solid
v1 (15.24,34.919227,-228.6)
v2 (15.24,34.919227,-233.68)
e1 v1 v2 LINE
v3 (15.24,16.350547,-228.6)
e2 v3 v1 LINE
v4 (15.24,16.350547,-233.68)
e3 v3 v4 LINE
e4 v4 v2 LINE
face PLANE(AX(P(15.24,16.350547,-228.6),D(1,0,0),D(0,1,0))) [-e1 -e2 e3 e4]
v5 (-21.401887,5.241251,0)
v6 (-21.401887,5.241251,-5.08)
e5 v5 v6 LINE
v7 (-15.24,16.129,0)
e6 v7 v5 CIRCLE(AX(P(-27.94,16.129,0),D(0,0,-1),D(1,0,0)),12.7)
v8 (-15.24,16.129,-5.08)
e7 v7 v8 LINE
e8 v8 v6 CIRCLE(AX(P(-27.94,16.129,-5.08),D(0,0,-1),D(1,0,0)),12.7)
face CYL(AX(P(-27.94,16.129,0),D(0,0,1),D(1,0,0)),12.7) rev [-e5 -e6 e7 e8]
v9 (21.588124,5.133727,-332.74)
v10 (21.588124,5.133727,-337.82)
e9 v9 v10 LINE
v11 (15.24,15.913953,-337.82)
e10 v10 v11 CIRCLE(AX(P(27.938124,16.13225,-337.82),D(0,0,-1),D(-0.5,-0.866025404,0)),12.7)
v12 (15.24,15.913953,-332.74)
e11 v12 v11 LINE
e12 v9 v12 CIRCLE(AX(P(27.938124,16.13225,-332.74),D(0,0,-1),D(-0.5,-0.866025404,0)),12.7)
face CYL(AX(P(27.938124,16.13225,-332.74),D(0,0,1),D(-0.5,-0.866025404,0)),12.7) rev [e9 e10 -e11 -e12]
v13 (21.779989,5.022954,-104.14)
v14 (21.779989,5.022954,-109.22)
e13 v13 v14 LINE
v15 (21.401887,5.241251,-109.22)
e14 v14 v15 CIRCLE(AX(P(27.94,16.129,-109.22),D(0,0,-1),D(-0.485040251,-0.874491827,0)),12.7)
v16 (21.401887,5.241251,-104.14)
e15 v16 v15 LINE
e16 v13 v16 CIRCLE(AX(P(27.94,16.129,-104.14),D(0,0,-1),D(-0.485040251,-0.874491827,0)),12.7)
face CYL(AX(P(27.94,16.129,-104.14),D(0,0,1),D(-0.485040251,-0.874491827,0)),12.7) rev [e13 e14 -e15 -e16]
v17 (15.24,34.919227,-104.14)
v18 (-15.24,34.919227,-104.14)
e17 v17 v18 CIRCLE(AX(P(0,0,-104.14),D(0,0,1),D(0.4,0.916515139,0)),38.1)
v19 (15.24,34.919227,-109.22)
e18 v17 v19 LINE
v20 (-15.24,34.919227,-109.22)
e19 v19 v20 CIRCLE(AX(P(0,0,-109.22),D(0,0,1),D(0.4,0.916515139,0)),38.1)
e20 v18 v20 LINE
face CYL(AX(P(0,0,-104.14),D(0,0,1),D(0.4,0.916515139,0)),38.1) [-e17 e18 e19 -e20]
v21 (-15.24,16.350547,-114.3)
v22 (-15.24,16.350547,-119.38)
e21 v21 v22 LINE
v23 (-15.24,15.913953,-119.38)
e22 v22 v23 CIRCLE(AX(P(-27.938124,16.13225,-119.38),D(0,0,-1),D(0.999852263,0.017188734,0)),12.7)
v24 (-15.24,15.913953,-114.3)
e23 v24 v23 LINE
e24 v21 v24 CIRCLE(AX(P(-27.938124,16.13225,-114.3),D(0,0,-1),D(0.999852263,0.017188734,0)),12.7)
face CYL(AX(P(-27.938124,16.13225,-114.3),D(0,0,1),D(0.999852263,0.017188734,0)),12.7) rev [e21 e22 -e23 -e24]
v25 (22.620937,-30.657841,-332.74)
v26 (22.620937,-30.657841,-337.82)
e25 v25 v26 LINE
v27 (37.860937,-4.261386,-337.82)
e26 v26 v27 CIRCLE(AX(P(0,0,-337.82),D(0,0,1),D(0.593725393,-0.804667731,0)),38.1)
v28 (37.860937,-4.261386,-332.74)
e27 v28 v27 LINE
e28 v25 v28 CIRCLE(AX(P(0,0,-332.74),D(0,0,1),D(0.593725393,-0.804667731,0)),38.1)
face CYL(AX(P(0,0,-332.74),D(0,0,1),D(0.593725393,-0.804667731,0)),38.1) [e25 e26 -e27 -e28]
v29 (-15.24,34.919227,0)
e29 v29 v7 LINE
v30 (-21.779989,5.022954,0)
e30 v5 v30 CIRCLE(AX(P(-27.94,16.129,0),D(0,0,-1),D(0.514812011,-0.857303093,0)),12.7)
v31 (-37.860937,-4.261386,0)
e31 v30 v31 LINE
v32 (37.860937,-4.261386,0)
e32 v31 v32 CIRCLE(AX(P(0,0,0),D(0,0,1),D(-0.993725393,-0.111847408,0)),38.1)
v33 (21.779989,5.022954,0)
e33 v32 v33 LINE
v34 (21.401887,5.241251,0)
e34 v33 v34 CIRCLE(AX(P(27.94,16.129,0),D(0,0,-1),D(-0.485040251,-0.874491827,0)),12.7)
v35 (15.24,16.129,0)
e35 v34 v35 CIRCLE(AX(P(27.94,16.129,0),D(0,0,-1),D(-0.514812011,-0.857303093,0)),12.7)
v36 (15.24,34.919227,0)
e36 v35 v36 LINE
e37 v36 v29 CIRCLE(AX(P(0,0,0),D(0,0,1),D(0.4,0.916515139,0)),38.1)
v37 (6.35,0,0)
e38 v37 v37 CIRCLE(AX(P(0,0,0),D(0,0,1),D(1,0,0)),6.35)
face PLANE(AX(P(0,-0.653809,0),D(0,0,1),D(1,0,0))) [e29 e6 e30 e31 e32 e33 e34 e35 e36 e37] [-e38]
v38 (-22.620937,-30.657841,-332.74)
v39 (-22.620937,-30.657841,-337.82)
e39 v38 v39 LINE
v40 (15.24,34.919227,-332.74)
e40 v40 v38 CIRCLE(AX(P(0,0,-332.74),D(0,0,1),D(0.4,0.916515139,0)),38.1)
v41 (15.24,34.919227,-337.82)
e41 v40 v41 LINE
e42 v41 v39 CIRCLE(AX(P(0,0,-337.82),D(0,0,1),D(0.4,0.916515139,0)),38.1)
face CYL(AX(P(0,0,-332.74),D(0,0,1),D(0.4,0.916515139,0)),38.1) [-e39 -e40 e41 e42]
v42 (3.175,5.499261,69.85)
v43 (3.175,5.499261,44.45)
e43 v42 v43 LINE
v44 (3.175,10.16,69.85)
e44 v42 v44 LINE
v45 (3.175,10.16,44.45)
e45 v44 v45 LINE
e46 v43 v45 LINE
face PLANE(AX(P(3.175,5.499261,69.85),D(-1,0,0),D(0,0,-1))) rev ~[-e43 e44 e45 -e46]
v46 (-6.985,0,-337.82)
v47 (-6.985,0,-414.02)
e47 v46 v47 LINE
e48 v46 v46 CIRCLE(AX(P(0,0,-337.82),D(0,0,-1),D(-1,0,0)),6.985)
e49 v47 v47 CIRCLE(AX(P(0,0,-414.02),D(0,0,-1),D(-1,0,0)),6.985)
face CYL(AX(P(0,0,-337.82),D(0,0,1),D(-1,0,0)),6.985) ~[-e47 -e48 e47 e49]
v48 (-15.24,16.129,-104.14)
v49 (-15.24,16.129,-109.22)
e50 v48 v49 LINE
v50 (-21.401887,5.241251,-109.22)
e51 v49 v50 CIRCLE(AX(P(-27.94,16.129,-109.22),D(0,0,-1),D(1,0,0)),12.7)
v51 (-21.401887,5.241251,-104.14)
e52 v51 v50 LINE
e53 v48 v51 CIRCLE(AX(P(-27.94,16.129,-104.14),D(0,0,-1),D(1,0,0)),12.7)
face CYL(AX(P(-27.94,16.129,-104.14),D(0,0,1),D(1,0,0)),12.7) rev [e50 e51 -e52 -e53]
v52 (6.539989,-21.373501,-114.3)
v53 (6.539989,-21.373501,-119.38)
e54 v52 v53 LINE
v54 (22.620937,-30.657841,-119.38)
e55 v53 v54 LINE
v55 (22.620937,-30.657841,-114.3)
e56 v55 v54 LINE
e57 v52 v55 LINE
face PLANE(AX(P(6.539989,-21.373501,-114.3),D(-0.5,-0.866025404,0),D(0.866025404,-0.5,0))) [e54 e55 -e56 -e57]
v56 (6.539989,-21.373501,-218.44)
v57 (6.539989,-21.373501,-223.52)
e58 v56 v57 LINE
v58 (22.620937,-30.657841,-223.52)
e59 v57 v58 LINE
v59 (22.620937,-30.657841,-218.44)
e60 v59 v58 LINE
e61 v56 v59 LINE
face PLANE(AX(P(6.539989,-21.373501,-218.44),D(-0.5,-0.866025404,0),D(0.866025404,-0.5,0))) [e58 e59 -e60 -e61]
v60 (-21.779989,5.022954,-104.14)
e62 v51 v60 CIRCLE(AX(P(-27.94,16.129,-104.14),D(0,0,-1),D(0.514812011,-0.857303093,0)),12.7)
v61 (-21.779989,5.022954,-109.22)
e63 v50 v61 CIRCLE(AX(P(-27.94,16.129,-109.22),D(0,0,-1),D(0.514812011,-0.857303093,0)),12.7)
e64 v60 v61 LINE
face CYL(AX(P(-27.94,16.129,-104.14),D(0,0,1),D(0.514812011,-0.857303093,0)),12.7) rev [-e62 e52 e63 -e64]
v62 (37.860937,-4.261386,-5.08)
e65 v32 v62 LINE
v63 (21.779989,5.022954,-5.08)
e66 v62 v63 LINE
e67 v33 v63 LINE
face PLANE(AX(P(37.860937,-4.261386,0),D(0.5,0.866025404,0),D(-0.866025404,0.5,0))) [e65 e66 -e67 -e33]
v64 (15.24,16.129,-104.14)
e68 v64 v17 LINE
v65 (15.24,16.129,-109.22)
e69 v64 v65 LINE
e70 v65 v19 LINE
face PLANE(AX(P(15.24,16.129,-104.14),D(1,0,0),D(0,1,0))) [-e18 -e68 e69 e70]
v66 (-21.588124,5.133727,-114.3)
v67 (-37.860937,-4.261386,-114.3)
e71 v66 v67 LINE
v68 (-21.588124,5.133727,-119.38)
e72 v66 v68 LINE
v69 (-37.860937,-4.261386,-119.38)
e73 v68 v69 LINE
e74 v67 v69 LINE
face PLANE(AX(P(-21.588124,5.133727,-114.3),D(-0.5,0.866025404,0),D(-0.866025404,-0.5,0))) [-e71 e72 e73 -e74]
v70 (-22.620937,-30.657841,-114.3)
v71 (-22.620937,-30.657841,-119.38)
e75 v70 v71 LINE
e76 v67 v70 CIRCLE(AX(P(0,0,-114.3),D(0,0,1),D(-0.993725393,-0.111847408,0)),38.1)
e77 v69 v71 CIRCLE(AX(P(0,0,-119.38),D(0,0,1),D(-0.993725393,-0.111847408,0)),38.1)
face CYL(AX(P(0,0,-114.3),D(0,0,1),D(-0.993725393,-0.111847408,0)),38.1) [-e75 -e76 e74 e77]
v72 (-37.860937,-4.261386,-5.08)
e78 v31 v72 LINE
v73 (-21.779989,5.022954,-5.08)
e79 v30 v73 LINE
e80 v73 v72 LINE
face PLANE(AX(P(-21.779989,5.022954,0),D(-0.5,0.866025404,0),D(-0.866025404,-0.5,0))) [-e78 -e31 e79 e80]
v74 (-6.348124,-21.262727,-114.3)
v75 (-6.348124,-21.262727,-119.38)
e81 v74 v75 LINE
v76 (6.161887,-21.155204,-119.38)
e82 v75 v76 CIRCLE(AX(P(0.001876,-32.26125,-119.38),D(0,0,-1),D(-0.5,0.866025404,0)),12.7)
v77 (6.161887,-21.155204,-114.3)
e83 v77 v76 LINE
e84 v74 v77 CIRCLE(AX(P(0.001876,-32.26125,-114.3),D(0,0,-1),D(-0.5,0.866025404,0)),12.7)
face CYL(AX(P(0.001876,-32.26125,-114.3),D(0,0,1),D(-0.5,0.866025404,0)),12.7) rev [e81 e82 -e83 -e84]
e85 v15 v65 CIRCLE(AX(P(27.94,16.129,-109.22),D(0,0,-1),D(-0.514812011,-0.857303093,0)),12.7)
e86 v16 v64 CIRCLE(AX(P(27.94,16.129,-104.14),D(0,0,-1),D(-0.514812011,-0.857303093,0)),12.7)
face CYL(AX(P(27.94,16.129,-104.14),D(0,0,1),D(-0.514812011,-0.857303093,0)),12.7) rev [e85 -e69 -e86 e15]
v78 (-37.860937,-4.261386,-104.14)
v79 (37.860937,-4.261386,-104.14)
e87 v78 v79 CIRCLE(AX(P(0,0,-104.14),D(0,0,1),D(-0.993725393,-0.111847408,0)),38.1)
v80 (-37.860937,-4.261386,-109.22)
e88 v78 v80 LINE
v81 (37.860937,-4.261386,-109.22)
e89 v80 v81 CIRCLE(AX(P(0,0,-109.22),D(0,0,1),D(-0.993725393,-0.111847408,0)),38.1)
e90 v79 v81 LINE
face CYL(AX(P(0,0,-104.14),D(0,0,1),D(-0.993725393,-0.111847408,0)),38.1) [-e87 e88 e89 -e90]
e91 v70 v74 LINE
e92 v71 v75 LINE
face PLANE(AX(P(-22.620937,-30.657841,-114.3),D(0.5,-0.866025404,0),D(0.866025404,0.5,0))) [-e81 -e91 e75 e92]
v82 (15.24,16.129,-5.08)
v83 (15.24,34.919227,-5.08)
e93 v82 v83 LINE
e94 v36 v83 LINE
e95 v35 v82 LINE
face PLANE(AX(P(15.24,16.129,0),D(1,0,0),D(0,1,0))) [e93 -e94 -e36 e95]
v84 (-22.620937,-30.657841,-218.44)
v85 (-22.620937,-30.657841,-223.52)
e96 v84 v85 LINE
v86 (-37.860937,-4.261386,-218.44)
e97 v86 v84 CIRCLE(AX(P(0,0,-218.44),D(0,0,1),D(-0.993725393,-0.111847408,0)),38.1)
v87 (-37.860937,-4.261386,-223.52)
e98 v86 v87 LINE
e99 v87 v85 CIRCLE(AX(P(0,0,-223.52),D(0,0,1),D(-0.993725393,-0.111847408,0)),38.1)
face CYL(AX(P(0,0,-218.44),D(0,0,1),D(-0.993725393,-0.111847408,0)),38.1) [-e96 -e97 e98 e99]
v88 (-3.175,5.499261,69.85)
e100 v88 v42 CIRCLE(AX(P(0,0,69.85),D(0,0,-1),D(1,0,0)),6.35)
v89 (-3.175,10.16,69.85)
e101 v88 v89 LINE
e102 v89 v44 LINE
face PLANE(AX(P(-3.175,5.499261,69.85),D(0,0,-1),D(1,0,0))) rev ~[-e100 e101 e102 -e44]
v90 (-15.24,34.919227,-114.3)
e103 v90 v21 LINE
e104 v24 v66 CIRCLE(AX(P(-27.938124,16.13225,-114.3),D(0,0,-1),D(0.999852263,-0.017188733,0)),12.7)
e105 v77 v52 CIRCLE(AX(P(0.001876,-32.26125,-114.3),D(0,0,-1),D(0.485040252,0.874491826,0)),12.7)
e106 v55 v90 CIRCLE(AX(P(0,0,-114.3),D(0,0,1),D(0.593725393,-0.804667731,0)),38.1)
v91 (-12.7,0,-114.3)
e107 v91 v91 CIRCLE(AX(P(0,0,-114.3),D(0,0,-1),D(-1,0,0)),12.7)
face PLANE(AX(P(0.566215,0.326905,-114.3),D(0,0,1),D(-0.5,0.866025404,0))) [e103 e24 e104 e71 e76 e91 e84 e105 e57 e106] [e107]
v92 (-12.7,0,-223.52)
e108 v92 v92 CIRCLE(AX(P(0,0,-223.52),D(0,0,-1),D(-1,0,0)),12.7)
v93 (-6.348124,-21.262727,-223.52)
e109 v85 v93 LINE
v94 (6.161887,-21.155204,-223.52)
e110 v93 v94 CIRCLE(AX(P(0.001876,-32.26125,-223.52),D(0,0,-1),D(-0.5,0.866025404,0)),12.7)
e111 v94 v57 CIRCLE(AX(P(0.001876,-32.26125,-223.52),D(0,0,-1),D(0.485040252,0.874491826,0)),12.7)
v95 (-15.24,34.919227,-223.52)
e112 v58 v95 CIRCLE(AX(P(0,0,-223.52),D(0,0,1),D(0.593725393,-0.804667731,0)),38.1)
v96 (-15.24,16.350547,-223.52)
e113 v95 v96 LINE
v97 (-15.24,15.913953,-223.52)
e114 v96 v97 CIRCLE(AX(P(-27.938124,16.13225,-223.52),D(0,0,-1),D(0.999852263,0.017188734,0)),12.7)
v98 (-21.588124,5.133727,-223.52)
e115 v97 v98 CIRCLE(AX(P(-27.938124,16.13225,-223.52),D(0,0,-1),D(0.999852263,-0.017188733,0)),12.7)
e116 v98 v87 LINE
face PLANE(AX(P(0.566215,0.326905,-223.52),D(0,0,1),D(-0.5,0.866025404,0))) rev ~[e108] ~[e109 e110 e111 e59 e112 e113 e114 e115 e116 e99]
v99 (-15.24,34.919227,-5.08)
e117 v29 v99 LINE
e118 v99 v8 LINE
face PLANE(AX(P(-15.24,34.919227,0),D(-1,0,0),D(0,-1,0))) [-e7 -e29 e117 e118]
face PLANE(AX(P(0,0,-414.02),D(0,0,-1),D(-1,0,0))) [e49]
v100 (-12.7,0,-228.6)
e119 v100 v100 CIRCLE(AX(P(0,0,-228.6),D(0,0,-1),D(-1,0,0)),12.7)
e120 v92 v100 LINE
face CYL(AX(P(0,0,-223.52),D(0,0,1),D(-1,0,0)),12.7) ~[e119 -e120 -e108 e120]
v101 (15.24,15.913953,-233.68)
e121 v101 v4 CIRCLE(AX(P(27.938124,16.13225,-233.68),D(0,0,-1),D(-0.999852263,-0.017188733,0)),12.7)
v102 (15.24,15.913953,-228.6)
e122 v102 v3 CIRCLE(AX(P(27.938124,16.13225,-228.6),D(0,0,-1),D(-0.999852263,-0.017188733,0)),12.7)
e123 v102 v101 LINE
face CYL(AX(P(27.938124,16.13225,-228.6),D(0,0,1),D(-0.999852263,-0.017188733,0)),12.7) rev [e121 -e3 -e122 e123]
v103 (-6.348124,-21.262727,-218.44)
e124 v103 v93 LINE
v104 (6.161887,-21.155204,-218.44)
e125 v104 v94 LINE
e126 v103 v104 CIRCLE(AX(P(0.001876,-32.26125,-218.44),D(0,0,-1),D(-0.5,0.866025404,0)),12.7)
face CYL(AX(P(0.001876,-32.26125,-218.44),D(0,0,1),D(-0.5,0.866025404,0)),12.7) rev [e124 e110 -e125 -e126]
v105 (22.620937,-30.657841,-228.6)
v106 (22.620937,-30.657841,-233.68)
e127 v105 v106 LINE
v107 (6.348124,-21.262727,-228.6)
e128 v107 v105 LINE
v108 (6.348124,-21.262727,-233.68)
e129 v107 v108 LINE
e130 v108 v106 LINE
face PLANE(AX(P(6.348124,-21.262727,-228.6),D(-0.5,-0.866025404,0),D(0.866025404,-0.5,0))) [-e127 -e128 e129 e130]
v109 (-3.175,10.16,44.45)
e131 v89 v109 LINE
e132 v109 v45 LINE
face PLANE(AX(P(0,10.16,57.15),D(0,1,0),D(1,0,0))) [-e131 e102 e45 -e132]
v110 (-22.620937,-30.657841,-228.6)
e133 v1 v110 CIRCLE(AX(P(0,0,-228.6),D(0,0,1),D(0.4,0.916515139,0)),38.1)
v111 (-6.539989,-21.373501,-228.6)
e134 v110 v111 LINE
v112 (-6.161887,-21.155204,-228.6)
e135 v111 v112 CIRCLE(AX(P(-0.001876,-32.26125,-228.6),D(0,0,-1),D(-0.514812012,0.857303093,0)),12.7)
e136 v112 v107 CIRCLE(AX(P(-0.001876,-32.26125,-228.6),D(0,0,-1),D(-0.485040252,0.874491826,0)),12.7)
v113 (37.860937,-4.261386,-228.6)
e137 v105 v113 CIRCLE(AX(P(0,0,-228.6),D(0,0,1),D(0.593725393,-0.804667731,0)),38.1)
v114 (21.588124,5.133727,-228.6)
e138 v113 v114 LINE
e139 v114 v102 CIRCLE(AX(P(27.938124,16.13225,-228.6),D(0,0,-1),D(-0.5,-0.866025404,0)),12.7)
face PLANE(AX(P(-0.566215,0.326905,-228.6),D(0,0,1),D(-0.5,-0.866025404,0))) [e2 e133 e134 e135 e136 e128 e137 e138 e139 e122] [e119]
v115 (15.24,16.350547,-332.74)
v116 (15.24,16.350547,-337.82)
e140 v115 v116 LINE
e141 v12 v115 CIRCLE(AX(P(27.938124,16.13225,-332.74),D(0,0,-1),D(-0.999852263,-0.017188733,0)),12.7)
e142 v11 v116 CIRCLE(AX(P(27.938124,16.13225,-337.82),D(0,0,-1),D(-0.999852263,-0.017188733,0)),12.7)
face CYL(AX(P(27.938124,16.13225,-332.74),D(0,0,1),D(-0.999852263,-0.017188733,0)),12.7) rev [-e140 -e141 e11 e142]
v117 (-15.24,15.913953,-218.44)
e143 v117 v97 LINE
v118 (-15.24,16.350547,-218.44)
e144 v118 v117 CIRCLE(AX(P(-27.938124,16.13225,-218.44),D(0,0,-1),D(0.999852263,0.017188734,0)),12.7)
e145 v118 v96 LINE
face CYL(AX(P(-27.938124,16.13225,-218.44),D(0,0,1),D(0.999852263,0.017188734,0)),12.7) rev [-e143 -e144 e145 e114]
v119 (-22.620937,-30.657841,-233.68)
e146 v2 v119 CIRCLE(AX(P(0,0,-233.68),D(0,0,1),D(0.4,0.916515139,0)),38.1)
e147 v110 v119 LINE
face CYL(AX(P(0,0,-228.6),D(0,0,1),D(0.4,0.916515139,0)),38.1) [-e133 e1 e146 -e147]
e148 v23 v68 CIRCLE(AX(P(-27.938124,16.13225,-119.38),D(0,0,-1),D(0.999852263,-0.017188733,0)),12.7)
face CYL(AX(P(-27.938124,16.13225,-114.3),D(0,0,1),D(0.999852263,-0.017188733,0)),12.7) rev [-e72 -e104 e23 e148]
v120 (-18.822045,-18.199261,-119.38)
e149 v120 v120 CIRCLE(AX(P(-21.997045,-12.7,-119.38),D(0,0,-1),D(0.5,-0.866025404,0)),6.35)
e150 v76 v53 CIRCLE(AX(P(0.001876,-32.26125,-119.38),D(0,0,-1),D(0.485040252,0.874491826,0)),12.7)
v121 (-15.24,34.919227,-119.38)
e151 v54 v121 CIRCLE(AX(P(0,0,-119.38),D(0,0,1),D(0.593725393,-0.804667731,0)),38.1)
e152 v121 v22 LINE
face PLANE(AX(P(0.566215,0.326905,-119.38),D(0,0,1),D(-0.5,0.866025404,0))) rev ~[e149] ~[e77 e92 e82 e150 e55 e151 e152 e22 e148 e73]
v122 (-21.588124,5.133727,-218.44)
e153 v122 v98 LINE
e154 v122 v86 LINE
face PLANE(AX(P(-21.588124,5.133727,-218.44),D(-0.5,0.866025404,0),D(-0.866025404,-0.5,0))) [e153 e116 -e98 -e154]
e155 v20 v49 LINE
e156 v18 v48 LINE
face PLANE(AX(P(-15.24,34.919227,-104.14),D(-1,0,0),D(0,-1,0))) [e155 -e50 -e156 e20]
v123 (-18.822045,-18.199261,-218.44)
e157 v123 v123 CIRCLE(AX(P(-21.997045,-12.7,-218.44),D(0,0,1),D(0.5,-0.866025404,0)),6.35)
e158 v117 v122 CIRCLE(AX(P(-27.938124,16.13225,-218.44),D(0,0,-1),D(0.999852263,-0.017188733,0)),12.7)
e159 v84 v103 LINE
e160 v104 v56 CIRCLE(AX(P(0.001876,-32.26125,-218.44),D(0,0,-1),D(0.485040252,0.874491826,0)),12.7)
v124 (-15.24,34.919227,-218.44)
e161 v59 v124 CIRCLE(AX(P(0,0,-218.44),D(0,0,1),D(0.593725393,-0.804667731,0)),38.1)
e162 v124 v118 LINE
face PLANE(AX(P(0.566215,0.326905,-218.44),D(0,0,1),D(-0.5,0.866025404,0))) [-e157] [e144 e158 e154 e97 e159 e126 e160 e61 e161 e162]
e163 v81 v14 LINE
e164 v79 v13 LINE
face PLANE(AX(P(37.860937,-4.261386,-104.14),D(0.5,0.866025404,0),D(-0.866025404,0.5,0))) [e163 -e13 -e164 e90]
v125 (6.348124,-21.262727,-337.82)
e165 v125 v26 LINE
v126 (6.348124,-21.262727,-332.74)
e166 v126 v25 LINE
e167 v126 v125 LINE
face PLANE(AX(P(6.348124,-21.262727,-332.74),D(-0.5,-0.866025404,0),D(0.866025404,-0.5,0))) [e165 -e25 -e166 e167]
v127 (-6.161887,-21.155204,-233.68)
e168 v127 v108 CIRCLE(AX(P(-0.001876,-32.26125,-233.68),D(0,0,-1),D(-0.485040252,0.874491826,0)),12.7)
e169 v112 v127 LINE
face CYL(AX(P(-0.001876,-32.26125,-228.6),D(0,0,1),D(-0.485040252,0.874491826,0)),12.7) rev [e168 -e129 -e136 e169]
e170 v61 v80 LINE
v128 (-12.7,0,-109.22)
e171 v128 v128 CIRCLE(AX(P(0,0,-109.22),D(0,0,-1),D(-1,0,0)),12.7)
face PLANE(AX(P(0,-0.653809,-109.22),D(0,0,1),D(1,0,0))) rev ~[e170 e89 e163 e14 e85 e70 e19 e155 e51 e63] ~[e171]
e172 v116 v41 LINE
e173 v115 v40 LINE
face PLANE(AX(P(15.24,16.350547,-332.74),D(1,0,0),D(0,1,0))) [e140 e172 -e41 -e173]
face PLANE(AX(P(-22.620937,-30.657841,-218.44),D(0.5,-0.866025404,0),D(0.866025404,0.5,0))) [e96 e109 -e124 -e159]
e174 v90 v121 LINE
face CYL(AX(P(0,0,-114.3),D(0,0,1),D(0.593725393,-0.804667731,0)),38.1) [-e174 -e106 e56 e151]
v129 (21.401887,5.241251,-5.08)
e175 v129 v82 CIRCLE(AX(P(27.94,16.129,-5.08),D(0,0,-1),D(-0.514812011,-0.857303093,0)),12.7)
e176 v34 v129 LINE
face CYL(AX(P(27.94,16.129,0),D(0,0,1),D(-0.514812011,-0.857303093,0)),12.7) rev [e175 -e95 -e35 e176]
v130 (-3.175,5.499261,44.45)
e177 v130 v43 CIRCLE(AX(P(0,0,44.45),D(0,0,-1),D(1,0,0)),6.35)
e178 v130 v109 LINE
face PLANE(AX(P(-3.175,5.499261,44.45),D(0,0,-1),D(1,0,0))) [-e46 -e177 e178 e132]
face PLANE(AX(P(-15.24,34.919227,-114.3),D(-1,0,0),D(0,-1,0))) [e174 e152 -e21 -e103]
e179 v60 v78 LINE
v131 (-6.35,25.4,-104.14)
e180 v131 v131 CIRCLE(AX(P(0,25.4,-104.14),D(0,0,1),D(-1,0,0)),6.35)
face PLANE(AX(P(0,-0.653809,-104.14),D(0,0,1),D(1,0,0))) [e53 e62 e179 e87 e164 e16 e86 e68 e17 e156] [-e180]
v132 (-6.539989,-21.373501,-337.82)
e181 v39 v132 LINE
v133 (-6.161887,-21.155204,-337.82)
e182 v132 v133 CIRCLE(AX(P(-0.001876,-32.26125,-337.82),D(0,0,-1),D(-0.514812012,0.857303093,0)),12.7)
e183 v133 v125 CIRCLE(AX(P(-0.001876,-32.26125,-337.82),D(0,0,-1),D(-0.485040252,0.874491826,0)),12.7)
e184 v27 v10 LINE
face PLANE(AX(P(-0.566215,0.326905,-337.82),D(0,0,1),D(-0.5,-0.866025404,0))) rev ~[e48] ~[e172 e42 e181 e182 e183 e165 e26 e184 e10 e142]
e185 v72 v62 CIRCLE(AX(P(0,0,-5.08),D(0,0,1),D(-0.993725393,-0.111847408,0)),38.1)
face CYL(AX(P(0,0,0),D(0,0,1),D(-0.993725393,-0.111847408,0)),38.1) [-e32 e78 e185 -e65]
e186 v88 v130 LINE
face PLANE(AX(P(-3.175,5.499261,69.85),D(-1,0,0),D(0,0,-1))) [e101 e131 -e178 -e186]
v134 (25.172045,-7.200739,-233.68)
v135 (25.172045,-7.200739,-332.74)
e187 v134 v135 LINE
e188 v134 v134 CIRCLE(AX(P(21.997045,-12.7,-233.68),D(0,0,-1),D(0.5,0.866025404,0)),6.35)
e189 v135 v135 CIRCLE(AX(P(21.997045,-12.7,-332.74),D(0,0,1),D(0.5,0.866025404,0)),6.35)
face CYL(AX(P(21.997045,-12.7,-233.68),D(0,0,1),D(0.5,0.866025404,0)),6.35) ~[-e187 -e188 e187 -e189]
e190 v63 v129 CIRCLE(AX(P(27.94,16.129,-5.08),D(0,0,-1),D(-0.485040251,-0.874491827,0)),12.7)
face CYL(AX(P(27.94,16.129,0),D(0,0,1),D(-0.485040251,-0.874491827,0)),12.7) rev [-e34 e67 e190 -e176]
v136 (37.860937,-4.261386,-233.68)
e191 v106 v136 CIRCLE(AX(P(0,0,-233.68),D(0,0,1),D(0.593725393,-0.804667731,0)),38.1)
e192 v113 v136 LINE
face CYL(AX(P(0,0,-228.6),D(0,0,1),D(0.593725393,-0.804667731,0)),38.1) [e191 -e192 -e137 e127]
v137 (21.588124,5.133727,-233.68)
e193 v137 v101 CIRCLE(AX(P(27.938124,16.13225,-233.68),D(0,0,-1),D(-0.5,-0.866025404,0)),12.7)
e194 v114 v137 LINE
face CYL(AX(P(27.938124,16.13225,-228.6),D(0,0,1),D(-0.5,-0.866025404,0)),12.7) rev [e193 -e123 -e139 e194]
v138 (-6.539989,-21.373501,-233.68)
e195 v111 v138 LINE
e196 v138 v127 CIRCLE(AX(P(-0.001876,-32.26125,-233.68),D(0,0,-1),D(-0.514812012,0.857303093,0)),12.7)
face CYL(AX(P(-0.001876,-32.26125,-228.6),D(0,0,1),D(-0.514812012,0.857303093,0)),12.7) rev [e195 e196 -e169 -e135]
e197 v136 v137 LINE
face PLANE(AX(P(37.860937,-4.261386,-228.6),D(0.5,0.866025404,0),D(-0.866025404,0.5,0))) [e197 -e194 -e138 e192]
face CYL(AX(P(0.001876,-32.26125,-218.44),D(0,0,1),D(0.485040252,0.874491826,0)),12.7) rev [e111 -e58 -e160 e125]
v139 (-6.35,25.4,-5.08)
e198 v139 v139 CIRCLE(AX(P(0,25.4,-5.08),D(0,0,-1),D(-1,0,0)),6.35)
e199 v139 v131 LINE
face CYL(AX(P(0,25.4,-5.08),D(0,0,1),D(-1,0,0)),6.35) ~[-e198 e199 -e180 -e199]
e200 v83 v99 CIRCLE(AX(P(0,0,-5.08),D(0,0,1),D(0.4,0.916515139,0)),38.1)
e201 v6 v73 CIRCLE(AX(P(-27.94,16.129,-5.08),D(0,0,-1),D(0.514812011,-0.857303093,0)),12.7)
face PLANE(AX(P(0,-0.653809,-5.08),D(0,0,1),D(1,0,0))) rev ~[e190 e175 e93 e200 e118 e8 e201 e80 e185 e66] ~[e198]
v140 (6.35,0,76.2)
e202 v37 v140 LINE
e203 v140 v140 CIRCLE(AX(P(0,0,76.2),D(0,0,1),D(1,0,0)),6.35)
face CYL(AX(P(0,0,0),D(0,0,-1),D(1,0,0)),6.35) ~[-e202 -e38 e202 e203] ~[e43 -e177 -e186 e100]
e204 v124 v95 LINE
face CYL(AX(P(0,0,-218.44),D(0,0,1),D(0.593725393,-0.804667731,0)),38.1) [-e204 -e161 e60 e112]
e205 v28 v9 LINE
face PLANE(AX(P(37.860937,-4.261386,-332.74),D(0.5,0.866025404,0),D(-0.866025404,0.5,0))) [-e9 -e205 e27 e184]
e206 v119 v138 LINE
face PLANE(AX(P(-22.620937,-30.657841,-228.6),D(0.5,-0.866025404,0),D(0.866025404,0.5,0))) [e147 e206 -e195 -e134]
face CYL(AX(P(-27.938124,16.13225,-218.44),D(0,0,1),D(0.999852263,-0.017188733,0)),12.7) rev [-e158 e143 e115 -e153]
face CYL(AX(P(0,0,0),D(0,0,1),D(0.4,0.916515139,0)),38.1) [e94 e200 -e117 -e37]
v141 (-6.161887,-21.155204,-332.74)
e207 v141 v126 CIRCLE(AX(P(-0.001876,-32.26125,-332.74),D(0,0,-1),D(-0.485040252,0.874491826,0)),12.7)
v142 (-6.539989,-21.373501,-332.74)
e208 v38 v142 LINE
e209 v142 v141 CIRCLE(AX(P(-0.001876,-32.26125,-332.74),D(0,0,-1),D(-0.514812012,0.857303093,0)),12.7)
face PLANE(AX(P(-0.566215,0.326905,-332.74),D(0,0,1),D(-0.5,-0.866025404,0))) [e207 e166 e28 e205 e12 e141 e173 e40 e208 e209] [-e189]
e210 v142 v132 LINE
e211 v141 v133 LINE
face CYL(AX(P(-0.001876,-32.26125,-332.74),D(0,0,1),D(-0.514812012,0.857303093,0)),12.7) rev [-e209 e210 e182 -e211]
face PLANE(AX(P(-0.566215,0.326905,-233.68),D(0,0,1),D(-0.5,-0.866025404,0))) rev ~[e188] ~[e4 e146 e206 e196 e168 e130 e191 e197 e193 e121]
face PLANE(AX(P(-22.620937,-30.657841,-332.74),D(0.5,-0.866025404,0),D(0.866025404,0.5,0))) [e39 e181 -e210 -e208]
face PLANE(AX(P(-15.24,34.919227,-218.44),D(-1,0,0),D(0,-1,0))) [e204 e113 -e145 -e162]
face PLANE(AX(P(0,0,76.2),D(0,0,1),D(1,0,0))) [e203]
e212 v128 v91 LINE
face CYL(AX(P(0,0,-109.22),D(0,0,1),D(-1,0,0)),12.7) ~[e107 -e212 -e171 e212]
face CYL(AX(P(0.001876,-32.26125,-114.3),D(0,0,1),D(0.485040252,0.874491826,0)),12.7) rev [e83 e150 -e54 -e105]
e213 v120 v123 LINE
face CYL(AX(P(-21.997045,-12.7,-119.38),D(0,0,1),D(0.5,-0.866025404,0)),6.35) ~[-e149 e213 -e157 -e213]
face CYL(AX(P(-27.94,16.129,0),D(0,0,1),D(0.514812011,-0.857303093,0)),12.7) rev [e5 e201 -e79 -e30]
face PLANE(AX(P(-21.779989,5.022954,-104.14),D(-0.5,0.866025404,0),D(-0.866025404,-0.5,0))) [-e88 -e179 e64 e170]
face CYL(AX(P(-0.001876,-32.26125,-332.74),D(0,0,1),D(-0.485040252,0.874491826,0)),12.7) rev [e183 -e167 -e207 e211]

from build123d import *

# Parameters (mm, degrees)
BOSS_EXTRUDE1_DEPTH   = 5.08
LPATTERN1_COUNT       = 2
LPATTERN1_PITCH       = 104.14
SKETCH2_R             = 6.35
BOSS_EXTRUDE2_DEPTH   = 104.14
LPATTERN2_COUNT       = 3
LPATTERN2_PITCH       = 114.3
BODY_MOVE_COPY1_ANGLE = 120
BODY_MOVE_COPY2_ANGLE = 120
SKETCH3_R             = 12.7
BOSS_EXTRUDE3_DEPTH   = 5.08
BOSS_EXTRUDE4_START   = 114.3
SKETCH3_2_R           = 12.7
BOSS_EXTRUDE4_DEPTH   = 5.08
SKETCH4_R             = 6.985
BOSS_EXTRUDE5_DEPTH   = 76.2
SKETCH5_R             = 6.35
BOSS_EXTRUDE6_DEPTH   = 76.2
BOSS_EXTRUDE8_START   = 5.499261
SKETCH6_W             = 6.35
SKETCH6_H             = 25.4
BOSS_EXTRUDE8_DEPTH   = 4.660739


with BuildPart() as part:
    # Sketch1 → Boss-Extrude1 (new body)
    with BuildSketch(Plane.XY):
        with BuildLine():
            ThreePointArc((21.401887456, 5.241250721), (16.887307357, 9.873763366), (15.24, 16.129))
            Line((15.24, 16.129), (15.24, 34.919226796))
            ThreePointArc((15.24, 34.919226796), (0, 38.1), (-15.24, 34.919226796))
            Line((-15.24, 34.919226796), (-15.24, 16.129))
            ThreePointArc((-15.24, 16.129), (-16.887307357, 9.873763366), (-21.401887456, 5.241250721))
            ThreePointArc((-21.401887456, 5.241250721), (-21.59, 5.130477372), (-21.779988806, 5.022953805))
            Line((-21.779988806, 5.022953805), (-37.860937485, -4.261386244))
            ThreePointArc((-37.860937485, -4.261386244), (0, -38.1), (37.860937485, -4.261386244))
            Line((37.860937485, -4.261386244), (21.779988806, 5.022953805))
            ThreePointArc((21.779988806, 5.022953805), (21.59, 5.130477372), (21.401887456, 5.241250721))
        make_face()
    extrude(amount=-BOSS_EXTRUDE1_DEPTH)


with BuildPart() as lpattern1_1:
    # LPattern1: pattern copy
    add(part.part.moved(Location(Vector(0, 0, -1) * (1 * LPATTERN1_PITCH))))


with BuildPart() as part_1:
    add(part.part)

    add(lpattern1_1.part)  # Boss-Extrude2 merges LPattern1_1
    # Sketch2 → Boss-Extrude2 (add)
    with BuildSketch(Plane(origin=(0, 0, -5.08), x_dir=(-1, 0, 0), z_dir=(0, 0, -1))):
        with Locations((0, 25.4)):
            Circle(SKETCH2_R)
    extrude(amount=BOSS_EXTRUDE2_DEPTH)


with BuildPart() as lpattern2_1:
    # LPattern2: pattern copy
    add(part_1.part.moved(Location(Vector(0, 0, -1) * (1 * LPATTERN2_PITCH))))


with BuildPart() as lpattern2_2:
    # LPattern2: pattern copy
    add(part_1.part.moved(Location(Vector(0, 0, -1) * (2 * LPATTERN2_PITCH))))


with BuildPart() as lpattern2_1_1:
    # Body-Move/Copy1: moved
    add(lpattern2_1.part.rotate(Axis((0, 0, 0), (0, 0, 1)), BODY_MOVE_COPY1_ANGLE))


with BuildPart() as lpattern2_2_1:
    # Body-Move/Copy2: moved
    add(lpattern2_2.part.rotate(Axis((0, 0, 0), (0, 0, -1)), BODY_MOVE_COPY2_ANGLE))


with BuildPart() as part_2:
    add(part_1.part)

    add(lpattern2_1_1.part)  # Boss-Extrude3 merges LPattern2_1
    # Sketch3 → Boss-Extrude3 (add)
    with BuildSketch(Plane(origin=(0, 0, -109.22), x_dir=(-1, 0, 0), z_dir=(0, 0, -1))):
        Circle(SKETCH3_R)
    extrude(amount=BOSS_EXTRUDE3_DEPTH)

    add(lpattern2_2_1.part)  # Boss-Extrude4 merges LPattern2_2
    # Sketch3<2> → Boss-Extrude4 (add)
    with BuildSketch(Plane(origin=(0, 0, -109.22), x_dir=(-1, 0, 0), z_dir=(0, 0, -1)).offset(BOSS_EXTRUDE4_START)):
        Circle(SKETCH3_2_R)
    extrude(amount=BOSS_EXTRUDE4_DEPTH)

    # Sketch4 → Boss-Extrude5 (add)
    with BuildSketch(Plane(origin=(0, 0, -337.82), x_dir=(-1, 0, 0), z_dir=(0, 0, -1))):
        Circle(SKETCH4_R)
    extrude(amount=BOSS_EXTRUDE5_DEPTH)

    # Sketch5 → Boss-Extrude6 (add)
    with BuildSketch(Plane.XY):
        Circle(SKETCH5_R)
    extrude(amount=BOSS_EXTRUDE6_DEPTH)

    # Sketch6 → Boss-Extrude8 (add)
    with BuildSketch(Plane(origin=(0, 0, 0), x_dir=(1, 0, 0), z_dir=(0, 1, 0)).offset(BOSS_EXTRUDE8_START)):
        with Locations((0, -57.15)):
            Rectangle(SKETCH6_W, SKETCH6_H)
    extrude(amount=BOSS_EXTRUDE8_DEPTH)


solid = part_2.part
